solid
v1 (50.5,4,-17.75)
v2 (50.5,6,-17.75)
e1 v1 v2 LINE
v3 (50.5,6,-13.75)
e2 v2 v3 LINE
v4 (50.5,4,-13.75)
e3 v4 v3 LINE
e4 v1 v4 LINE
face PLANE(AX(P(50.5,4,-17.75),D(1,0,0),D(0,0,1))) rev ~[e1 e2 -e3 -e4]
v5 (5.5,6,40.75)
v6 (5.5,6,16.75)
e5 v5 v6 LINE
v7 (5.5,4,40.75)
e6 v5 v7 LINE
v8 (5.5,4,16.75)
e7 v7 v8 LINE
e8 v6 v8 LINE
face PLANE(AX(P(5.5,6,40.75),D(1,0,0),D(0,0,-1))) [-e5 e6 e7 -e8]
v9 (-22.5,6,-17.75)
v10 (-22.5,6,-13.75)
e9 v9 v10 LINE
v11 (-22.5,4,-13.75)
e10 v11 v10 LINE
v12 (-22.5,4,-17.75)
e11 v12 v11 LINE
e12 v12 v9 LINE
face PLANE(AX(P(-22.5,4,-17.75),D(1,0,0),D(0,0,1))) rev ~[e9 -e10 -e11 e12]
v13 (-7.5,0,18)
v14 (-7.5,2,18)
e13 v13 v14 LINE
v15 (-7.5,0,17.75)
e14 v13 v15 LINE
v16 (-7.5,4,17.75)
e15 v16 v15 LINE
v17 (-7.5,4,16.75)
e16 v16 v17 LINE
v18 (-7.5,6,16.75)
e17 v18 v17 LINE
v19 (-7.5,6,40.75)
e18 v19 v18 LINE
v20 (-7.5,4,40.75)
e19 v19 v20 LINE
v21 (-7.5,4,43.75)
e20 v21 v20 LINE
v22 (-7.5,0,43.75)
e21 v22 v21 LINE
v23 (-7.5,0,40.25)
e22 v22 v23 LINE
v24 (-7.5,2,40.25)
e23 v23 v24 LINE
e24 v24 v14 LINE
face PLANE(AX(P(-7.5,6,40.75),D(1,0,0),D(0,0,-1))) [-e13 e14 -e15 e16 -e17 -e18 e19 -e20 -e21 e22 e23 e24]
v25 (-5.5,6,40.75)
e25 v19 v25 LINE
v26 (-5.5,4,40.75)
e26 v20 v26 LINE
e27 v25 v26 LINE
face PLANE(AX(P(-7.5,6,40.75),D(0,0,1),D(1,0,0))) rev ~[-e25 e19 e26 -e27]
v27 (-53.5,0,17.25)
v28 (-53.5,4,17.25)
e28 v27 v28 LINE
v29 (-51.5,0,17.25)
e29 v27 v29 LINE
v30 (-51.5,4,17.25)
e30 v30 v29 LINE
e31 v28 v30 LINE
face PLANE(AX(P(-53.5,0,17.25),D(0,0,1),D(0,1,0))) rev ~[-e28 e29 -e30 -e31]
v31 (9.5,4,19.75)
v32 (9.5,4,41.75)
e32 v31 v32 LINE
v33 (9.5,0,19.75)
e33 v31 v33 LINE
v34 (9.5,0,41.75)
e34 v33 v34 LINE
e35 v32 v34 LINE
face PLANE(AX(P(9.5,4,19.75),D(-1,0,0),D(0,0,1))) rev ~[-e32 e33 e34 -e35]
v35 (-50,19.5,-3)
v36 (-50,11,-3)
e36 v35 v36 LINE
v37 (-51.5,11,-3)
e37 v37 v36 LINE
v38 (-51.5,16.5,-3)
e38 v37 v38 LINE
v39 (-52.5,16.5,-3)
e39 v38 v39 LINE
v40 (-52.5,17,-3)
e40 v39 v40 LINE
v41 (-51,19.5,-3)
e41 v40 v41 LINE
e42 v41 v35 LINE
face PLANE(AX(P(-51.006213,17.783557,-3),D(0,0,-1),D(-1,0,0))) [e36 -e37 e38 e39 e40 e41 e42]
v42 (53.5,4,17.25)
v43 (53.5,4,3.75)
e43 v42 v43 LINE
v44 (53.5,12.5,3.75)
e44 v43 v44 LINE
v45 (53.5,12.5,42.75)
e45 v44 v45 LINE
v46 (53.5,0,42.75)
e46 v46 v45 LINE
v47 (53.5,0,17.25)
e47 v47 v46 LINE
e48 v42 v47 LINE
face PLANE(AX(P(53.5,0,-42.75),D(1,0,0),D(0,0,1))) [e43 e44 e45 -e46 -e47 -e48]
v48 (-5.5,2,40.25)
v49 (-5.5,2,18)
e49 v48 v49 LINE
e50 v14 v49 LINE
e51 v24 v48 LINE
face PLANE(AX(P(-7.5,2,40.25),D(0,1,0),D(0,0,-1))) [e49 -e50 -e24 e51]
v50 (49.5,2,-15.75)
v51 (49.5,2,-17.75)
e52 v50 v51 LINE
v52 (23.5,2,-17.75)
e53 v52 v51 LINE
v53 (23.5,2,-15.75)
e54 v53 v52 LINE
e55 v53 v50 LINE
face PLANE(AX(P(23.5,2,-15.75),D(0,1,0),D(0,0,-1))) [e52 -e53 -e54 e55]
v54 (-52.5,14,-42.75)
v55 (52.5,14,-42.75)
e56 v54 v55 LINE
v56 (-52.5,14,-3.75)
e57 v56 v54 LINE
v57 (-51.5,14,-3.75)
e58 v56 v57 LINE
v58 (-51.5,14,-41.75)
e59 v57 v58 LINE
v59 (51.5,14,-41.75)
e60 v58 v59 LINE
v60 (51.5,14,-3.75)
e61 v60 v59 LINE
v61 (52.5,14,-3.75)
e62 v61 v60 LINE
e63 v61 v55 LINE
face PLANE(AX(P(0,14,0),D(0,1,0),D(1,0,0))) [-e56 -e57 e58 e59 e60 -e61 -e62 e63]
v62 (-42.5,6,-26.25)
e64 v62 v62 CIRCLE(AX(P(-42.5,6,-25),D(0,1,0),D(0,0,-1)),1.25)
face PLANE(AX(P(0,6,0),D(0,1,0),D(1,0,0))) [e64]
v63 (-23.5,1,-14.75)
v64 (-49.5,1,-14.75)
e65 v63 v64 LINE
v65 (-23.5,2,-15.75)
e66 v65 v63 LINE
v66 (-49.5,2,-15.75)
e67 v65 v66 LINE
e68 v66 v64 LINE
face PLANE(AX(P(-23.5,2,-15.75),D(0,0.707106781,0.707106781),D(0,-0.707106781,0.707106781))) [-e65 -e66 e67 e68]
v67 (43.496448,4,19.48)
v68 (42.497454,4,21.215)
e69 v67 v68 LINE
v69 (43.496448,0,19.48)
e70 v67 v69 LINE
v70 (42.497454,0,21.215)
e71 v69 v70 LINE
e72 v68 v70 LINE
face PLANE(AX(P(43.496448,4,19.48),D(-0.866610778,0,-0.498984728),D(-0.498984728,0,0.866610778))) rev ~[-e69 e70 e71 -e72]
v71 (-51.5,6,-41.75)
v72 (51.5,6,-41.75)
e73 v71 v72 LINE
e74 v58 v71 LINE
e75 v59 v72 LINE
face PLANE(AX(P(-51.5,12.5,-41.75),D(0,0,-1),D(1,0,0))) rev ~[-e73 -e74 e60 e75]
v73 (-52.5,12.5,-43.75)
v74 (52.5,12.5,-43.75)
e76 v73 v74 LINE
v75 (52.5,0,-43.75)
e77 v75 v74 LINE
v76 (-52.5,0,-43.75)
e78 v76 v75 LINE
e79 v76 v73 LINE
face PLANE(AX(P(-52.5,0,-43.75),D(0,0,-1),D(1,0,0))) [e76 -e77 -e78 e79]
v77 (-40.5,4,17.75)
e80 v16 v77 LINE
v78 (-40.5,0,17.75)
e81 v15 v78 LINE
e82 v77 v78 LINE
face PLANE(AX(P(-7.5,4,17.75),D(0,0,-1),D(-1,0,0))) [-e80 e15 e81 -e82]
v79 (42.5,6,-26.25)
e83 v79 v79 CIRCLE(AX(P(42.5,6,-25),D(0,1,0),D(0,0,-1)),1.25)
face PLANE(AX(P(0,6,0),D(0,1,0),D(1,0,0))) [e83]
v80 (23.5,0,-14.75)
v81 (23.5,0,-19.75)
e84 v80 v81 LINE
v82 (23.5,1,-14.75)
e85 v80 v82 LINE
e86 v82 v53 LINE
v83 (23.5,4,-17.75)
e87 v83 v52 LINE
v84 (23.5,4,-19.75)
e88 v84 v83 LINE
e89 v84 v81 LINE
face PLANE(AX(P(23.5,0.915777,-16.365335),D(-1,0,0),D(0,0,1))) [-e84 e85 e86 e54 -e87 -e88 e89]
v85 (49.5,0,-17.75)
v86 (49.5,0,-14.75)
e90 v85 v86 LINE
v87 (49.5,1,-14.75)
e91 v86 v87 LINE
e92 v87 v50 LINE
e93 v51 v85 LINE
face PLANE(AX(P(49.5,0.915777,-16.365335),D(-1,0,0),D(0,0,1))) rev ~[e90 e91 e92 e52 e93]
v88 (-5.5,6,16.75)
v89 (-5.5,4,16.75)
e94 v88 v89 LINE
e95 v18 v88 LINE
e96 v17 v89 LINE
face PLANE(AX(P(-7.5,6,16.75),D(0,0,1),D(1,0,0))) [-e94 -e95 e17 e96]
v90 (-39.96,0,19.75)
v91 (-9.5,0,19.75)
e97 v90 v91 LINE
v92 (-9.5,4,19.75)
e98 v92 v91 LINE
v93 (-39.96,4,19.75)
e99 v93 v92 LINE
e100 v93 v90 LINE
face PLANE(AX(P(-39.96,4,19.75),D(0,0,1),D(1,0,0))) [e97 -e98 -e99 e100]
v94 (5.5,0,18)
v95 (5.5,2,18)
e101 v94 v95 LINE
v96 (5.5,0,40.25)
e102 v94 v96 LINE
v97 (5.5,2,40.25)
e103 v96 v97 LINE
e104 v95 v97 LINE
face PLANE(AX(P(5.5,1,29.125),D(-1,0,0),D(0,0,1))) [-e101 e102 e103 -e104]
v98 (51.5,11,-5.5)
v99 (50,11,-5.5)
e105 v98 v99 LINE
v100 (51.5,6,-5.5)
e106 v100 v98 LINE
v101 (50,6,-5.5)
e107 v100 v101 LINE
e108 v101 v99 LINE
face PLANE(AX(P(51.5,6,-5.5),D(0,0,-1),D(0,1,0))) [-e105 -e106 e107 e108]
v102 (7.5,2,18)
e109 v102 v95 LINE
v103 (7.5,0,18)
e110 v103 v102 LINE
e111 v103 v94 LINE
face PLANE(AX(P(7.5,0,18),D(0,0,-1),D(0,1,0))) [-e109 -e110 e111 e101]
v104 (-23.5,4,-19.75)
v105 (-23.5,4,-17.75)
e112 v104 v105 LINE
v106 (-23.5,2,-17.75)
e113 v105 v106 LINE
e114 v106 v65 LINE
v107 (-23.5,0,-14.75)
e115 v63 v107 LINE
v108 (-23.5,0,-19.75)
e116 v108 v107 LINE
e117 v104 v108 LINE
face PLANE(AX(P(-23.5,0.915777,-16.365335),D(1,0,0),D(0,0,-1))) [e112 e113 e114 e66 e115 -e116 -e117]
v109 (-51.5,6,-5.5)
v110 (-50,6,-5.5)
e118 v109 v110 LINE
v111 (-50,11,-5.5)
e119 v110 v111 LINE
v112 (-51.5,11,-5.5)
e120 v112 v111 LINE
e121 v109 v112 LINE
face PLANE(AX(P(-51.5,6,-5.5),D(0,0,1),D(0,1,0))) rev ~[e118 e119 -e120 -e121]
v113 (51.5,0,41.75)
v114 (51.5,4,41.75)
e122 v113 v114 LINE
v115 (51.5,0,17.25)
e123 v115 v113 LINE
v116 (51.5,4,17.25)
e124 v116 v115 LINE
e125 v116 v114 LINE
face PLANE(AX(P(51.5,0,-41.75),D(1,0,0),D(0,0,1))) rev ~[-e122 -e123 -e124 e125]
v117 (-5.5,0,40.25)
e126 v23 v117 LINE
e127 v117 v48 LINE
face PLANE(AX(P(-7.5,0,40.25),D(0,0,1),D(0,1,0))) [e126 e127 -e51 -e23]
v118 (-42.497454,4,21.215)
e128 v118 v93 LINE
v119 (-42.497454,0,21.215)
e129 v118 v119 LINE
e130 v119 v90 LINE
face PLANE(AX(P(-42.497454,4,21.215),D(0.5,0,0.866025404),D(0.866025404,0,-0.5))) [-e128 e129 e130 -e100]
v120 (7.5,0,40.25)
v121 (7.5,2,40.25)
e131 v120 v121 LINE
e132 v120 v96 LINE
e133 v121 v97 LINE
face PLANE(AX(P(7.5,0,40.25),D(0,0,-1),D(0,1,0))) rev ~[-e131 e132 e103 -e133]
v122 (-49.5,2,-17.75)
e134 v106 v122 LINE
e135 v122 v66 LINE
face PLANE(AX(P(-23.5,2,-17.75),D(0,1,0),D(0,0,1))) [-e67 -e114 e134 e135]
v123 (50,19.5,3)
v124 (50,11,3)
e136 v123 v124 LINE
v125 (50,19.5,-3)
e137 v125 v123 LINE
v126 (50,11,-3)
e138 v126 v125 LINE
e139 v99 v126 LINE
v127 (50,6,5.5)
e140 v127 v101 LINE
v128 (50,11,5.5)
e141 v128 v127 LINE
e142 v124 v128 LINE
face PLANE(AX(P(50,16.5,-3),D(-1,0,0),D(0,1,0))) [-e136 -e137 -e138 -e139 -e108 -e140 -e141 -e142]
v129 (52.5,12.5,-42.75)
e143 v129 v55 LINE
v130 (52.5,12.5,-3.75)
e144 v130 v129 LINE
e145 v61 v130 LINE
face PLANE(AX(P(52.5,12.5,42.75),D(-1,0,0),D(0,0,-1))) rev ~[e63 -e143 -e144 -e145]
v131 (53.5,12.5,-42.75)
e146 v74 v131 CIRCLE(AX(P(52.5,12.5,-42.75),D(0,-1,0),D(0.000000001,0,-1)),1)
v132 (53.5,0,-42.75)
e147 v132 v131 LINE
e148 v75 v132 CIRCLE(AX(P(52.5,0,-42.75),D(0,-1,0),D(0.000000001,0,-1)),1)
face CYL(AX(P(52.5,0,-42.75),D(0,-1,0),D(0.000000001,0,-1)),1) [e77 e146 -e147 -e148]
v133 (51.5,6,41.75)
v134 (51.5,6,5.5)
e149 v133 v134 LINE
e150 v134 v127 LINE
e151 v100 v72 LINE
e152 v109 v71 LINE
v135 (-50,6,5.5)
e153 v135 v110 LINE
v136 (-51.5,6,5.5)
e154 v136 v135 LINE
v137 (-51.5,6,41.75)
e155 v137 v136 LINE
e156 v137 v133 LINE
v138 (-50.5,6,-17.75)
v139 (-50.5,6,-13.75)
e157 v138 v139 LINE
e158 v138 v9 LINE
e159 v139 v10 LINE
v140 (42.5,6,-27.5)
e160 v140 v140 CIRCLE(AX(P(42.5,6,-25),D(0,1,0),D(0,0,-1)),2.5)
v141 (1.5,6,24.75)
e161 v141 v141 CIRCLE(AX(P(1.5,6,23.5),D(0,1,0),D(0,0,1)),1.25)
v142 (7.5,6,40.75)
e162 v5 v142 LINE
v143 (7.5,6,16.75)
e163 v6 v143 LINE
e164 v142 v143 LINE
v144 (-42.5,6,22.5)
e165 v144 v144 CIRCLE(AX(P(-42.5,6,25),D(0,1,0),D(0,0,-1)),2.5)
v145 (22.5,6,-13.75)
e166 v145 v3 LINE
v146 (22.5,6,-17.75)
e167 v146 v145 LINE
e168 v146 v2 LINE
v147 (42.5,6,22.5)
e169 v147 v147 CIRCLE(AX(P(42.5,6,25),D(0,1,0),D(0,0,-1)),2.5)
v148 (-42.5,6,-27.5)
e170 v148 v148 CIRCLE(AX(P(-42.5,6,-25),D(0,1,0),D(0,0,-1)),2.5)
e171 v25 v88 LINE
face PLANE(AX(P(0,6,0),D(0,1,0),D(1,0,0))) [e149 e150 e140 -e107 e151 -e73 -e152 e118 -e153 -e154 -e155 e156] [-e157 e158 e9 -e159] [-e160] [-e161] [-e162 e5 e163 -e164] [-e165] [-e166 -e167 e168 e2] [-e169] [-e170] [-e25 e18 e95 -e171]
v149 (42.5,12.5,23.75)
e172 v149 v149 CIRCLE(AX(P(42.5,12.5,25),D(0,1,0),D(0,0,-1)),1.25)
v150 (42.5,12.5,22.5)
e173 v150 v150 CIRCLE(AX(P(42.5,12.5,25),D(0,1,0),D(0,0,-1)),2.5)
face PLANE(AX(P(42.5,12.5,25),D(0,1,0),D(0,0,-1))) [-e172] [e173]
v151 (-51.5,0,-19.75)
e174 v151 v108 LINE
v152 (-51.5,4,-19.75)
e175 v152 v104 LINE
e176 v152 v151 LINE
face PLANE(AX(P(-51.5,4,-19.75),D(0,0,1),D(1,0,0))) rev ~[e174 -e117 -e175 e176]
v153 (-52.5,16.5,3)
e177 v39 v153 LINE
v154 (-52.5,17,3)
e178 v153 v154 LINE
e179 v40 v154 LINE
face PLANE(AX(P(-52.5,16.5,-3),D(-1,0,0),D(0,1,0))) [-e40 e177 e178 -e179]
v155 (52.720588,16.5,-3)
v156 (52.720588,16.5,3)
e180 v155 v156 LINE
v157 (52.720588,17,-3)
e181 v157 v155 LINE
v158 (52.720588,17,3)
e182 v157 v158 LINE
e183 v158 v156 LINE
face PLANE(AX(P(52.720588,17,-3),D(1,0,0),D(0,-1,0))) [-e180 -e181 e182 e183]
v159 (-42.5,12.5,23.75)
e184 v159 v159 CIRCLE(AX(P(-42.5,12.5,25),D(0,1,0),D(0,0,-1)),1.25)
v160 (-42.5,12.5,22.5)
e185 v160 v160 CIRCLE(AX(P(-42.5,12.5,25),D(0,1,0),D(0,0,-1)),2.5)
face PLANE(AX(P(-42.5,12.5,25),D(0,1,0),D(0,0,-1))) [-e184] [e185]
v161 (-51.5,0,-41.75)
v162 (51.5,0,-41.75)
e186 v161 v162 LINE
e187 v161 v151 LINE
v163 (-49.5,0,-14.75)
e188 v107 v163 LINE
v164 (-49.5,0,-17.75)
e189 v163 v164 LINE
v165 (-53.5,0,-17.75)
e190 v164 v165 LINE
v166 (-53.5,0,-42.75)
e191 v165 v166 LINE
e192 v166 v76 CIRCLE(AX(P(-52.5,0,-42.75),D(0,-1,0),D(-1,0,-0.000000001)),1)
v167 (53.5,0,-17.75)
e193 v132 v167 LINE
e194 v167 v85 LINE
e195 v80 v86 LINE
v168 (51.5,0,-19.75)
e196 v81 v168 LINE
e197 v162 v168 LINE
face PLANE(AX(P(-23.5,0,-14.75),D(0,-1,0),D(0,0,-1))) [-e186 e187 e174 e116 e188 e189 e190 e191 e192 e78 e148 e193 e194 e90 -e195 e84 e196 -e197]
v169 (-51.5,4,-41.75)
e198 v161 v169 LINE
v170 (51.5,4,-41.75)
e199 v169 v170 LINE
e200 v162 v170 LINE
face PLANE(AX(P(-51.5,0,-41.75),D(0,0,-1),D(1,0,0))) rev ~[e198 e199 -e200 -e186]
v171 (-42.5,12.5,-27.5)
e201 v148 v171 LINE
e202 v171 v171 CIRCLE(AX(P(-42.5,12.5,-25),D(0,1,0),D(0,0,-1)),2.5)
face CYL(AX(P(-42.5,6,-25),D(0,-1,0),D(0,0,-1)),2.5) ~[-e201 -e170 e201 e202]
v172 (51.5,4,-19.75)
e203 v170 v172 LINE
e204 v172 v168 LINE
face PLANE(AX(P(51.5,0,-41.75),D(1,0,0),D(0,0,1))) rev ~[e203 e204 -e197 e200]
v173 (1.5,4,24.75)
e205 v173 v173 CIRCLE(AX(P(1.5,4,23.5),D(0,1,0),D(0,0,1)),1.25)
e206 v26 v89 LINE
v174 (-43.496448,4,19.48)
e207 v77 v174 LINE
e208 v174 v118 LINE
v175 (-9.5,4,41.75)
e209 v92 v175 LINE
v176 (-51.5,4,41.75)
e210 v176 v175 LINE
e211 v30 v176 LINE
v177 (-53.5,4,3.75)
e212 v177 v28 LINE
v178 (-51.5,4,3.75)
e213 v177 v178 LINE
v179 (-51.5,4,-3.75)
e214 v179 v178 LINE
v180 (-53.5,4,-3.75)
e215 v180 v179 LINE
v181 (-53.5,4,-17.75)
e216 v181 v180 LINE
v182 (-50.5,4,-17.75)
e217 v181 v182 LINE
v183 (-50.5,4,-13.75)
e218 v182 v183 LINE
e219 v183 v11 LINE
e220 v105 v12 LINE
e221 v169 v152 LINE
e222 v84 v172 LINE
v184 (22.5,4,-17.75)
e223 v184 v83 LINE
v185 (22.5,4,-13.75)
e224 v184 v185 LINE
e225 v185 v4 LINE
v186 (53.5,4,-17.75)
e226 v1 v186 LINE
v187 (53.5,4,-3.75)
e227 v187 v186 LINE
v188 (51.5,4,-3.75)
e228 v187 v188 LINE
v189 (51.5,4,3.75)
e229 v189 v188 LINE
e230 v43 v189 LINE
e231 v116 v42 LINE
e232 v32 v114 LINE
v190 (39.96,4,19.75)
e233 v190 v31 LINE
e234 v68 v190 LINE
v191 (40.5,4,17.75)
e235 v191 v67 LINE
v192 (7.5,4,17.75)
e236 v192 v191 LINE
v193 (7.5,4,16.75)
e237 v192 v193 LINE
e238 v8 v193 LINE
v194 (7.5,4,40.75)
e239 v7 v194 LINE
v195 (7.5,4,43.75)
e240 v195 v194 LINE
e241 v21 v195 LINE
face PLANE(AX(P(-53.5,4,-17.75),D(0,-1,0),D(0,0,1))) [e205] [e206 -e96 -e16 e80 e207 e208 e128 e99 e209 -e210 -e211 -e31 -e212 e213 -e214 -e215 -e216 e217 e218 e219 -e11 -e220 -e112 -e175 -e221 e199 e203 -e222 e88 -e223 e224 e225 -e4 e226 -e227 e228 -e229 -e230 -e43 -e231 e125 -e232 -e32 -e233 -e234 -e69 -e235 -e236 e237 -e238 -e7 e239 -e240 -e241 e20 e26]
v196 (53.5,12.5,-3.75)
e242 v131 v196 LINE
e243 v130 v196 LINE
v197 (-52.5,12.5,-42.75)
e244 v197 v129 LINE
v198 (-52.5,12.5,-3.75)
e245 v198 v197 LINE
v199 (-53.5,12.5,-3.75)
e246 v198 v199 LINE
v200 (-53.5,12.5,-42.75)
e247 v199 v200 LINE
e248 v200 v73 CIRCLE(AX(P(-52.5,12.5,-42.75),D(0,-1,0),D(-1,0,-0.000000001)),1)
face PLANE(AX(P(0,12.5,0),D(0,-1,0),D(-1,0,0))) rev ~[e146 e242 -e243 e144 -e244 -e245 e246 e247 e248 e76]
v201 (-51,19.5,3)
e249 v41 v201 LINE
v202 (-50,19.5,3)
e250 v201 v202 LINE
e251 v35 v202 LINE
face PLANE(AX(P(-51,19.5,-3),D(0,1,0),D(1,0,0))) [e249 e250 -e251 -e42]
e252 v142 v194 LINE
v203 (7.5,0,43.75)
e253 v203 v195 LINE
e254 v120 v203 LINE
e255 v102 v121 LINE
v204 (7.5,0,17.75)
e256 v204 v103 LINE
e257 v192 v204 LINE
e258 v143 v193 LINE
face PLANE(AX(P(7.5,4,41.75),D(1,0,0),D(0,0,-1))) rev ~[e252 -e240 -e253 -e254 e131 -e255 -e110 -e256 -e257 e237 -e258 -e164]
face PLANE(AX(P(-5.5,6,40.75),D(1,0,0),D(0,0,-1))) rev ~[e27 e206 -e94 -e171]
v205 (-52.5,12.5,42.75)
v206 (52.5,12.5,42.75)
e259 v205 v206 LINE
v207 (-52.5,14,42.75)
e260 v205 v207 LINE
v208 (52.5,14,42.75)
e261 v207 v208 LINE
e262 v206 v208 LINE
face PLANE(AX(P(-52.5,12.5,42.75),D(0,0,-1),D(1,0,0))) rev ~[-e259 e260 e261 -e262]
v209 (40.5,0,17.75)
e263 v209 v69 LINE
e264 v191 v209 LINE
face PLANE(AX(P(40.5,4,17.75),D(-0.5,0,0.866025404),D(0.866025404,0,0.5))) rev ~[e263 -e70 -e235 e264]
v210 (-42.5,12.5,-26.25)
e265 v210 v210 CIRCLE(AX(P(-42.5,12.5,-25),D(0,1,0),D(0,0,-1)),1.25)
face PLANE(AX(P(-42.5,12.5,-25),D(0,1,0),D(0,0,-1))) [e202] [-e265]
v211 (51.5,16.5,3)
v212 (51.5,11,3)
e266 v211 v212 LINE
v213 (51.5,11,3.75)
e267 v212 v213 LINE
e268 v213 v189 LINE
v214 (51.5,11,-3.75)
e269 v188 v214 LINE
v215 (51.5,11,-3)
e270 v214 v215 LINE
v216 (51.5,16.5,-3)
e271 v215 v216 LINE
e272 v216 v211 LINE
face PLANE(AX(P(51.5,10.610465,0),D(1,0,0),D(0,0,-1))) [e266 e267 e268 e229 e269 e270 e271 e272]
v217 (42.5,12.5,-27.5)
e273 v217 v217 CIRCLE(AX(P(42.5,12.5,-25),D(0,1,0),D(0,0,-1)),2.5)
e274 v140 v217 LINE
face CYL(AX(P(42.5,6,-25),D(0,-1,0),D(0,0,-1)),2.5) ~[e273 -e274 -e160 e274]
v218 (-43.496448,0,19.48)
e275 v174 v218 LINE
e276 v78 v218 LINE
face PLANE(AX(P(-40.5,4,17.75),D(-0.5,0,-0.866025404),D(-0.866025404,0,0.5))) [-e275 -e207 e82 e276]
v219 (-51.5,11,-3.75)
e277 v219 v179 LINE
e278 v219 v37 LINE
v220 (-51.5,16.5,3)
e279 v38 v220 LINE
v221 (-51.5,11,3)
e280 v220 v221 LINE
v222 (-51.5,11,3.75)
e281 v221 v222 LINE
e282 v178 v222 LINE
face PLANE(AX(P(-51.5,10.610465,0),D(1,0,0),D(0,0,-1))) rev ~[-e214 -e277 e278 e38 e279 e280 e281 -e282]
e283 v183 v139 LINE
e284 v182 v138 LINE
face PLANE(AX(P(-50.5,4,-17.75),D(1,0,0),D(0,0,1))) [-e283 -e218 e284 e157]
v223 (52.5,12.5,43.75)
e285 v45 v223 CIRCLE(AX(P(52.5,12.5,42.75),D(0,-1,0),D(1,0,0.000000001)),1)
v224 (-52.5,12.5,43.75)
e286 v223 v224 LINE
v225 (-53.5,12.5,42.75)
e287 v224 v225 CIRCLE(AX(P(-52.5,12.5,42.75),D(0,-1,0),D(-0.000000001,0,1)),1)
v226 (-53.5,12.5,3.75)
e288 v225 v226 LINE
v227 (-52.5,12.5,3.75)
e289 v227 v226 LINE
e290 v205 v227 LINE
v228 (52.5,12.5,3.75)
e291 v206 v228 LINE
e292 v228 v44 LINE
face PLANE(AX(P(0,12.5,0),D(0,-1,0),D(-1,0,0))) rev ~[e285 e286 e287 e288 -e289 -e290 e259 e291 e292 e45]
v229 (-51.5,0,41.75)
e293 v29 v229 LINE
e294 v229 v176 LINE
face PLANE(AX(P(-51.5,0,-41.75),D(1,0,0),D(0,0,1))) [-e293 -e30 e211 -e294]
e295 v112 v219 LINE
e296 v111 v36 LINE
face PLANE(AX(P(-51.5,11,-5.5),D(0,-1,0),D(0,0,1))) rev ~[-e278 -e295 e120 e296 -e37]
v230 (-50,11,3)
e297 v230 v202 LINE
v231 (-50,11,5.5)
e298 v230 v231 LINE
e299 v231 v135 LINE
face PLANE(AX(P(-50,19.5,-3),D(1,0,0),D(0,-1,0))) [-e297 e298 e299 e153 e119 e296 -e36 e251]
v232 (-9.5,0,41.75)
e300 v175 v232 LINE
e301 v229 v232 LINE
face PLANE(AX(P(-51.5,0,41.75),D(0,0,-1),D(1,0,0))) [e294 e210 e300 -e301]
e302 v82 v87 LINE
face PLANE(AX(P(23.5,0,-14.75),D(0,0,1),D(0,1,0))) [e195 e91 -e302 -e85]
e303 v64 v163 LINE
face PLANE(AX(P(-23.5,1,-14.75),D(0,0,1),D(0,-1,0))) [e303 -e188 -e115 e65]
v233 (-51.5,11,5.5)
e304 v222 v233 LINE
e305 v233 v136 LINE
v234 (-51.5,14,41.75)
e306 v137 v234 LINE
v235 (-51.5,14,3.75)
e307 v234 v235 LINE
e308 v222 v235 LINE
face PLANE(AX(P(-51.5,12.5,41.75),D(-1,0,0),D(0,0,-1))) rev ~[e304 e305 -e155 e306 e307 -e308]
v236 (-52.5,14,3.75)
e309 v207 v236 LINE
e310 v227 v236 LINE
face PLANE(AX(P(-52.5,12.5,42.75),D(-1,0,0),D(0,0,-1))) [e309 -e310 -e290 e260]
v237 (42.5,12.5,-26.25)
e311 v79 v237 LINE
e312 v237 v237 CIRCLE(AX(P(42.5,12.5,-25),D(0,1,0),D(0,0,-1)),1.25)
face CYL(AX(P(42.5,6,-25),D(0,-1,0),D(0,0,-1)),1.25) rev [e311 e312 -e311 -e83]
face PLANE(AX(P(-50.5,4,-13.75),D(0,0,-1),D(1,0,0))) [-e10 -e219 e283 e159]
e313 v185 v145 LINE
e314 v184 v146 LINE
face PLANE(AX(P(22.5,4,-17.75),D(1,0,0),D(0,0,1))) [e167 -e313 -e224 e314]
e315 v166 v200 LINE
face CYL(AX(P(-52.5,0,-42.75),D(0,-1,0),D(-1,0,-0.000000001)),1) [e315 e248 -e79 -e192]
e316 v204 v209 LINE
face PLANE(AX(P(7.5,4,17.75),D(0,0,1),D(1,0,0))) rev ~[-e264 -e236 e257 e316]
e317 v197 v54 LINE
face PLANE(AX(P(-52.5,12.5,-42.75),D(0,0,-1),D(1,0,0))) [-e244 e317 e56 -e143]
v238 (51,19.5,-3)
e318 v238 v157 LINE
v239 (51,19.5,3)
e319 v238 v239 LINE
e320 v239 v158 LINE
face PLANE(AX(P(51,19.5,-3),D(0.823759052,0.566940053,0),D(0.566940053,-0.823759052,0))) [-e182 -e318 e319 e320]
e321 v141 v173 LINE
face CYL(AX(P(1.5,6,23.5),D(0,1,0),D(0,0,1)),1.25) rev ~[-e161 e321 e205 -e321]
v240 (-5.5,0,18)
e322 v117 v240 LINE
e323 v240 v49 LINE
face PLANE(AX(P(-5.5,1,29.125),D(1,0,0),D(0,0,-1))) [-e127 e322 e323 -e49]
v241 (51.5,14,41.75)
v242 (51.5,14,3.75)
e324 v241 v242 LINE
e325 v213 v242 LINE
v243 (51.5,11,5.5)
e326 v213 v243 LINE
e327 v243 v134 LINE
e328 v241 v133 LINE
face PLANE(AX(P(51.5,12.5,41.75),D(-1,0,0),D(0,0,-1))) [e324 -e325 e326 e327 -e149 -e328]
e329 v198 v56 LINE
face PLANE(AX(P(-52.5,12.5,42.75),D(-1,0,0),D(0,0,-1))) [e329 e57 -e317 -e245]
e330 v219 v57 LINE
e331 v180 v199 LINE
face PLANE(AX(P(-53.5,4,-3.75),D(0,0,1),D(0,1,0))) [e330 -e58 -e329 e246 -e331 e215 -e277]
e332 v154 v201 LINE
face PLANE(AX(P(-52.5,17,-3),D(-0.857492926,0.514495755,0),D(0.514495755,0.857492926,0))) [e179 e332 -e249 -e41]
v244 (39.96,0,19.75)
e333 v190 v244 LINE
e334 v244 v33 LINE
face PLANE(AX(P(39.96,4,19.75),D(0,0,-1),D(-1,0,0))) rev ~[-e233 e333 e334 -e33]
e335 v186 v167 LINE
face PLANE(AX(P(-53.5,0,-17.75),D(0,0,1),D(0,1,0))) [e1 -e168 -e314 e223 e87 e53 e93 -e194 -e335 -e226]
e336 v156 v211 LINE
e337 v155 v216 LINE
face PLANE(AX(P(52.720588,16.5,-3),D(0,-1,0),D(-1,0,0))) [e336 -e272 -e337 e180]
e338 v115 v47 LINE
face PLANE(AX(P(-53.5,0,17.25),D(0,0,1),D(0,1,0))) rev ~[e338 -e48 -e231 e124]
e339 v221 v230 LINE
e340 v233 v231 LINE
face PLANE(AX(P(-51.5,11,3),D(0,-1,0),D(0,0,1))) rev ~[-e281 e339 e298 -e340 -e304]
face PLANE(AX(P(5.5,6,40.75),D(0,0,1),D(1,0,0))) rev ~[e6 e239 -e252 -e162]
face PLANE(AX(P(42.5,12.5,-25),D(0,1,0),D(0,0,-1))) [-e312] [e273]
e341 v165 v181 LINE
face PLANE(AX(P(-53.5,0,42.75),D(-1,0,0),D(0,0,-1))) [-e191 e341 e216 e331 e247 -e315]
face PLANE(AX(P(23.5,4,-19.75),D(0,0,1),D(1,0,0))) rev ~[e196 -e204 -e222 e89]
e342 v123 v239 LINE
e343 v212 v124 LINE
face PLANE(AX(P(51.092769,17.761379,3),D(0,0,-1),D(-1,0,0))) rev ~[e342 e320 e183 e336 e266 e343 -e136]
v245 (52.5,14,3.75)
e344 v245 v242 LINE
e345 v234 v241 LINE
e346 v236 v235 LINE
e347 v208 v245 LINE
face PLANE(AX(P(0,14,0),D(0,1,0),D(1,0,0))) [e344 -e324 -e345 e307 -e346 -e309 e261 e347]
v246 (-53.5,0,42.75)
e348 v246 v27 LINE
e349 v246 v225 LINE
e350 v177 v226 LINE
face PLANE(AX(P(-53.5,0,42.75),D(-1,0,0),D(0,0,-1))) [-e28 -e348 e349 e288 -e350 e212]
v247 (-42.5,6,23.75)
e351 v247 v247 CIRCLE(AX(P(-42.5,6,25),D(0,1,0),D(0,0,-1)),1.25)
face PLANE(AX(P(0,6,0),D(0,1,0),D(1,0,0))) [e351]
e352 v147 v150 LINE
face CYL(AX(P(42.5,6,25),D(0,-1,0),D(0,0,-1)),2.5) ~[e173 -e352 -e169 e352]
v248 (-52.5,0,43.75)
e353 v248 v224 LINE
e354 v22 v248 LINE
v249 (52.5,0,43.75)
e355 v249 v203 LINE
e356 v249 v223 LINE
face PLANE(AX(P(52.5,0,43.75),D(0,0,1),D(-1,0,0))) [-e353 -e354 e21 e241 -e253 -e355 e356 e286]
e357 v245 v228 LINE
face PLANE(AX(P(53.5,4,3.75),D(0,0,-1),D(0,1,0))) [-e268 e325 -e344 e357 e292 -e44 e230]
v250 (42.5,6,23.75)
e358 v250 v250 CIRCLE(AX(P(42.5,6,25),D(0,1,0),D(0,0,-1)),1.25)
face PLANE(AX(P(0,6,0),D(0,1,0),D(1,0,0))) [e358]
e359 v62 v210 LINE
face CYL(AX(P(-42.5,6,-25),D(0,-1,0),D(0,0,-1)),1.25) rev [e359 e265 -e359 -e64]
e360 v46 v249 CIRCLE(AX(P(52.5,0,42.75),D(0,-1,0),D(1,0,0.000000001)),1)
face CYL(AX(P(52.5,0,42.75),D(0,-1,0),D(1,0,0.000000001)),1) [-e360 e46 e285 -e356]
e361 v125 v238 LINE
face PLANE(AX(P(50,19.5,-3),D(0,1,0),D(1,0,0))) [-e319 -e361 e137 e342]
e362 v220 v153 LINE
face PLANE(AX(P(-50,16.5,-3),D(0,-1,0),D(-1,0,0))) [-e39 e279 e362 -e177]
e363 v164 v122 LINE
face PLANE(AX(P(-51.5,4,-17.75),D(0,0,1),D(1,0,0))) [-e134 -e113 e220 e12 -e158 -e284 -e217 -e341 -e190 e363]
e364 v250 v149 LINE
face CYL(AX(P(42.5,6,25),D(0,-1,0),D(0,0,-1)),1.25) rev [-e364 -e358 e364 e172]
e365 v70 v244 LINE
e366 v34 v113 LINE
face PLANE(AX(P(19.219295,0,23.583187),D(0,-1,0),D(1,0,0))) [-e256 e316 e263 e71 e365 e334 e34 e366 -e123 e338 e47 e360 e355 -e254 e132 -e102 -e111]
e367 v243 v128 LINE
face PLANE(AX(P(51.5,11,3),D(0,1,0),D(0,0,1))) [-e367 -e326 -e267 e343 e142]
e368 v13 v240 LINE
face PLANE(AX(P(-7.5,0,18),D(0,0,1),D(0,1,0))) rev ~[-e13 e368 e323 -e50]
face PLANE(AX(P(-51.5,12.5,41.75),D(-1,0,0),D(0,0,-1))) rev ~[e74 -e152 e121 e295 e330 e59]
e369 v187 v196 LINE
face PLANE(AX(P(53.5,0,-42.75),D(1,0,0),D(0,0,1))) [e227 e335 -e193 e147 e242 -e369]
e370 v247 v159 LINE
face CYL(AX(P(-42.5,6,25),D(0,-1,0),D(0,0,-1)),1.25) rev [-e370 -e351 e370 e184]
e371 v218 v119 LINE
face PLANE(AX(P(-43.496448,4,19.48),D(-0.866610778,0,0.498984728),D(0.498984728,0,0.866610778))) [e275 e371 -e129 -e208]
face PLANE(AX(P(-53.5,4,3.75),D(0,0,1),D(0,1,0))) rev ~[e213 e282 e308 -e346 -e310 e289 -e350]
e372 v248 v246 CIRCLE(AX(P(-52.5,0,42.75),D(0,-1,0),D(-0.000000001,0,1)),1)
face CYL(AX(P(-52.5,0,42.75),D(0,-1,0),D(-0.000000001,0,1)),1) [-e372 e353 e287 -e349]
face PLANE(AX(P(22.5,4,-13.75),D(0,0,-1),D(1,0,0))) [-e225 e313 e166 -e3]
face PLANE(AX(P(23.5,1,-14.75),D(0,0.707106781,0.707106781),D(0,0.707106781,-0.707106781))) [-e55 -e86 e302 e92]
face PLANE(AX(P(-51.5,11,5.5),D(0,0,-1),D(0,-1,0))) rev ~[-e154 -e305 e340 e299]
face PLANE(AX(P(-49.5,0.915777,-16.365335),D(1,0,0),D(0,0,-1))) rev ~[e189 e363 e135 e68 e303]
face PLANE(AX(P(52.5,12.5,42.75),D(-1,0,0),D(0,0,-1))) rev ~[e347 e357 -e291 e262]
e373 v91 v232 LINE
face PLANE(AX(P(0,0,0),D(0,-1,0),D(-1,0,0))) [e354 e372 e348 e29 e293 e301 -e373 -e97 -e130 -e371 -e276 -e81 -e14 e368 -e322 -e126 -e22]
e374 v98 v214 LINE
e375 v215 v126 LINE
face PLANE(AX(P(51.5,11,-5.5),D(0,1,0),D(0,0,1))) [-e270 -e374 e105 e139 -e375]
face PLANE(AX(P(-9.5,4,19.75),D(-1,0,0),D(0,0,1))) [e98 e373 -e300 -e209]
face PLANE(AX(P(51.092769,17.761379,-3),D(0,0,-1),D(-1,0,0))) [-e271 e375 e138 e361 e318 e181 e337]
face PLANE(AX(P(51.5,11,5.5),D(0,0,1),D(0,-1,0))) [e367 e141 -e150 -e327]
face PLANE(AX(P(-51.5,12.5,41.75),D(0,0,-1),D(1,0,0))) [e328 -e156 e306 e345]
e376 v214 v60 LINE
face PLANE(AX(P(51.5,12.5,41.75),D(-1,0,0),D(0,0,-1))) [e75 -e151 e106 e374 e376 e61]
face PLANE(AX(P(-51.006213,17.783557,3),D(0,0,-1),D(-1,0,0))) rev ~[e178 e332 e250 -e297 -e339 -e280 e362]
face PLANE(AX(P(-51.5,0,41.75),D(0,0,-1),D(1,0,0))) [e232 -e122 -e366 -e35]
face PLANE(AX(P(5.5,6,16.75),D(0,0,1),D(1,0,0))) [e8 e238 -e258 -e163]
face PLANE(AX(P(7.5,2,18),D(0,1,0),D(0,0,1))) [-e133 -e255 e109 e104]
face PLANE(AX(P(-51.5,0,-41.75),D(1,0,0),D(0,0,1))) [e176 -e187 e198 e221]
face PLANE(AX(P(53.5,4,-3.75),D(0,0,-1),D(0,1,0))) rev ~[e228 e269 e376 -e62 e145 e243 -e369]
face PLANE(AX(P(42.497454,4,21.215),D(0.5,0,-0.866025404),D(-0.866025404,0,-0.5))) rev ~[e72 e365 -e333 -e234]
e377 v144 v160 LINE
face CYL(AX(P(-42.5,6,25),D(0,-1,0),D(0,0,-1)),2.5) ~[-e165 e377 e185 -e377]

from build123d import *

# Parameters (mm, degrees)
BOSS_EXTRUDE1_DEPTH  = 12.5
SKETCH2_W            = 103
SKETCH2_H            = 83.5
CUT_EXTRUDE1_DEPTH   = 4
SKETCH3_W            = 103
SKETCH3_H            = 83.5
CUT_EXTRUDE2_DEPTH   = 6.5
SKETCH4_W            = 105
SKETCH4_H            = 85.5
SKETCH4_W_2          = 103
SKETCH4_H_2          = 83.5
BOSS_EXTRUDE2_DEPTH  = 1.5
SKETCH7_W            = 35
SKETCH7_H            = 4
CUT_EXTRUDE3_DEPTH   = 117.443387532
SKETCH8_W            = 7.5
SKETCH8_H            = 10
CUT_EXTRUDE4_DEPTH   = 2
SKETCH9_W            = 7.5
SKETCH9_H            = 10
CUT_EXTRUDE5_DEPTH   = 2
BOSS_EXTRUDE3_DEPTH  = 1.5
BOSS_EXTRUDE4_DEPTH  = 1.5
BOSS_EXTRUDE5_DEPTH  = 6
BOSS_EXTRUDE6_DEPTH  = 6
SKETCH14_W           = 28
SKETCH14_H           = 4
CUT_EXTRUDE6_DEPTH   = 2
SKETCH15_W           = 15
SKETCH15_H           = 3.5
CUT_EXTRUDE7_DEPTH   = 4
SKETCH16_R           = 1.25
SKETCH16_W           = 2
SKETCH16_H           = 24
CUT_EXTRUDE8_DEPTH   = 2
SKETCH17_R           = 2.5
SKETCH17_R_2         = 1.25
BOSS_EXTRUDE7_DEPTH  = 6.5
SKETCH18_W           = 28
SKETCH18_H           = 2
BOSS_EXTRUDE8_DEPTH  = 4
BOSS_EXTRUDE9_DEPTH  = 26
BOSS_EXTRUDE10_DEPTH = 26
BOSS_EXTRUDE11_DEPTH = 4
SKETCH22_W           = 22.25
SKETCH22_H           = 2
BOSS_EXTRUDE12_DEPTH = 2
SKETCH23_W           = 22.25
SKETCH23_H           = 2
BOSS_EXTRUDE13_DEPTH = 2


with BuildPart() as part:
    # Sketch1 → Boss-Extrude1 (new body)
    with BuildSketch(Plane(origin=(0, 0, 0), x_dir=(1, 0, 0), z_dir=(0, 1, 0))):
        with BuildLine():
            Line((52.5, -43.75), (-52.5, -43.75))
            ThreePointArc((-52.5, -43.75), (-53.207106781, -43.457106781), (-53.5, -42.75))
            Line((-53.5, -42.75), (-53.5, 42.75))
            ThreePointArc((-53.5, 42.75), (-53.207106781, 43.457106781), (-52.5, 43.75))
            Line((-52.5, 43.75), (52.5, 43.75))
            ThreePointArc((52.5, 43.75), (53.207106781, 43.457106781), (53.5, 42.75))
            Line((53.5, 42.75), (53.5, -42.75))
            ThreePointArc((53.5, -42.75), (53.207106781, -43.457106781), (52.5, -43.75))
        make_face()
    extrude(amount=BOSS_EXTRUDE1_DEPTH)

    # Sketch2 → Cut-Extrude1 (cut)
    with BuildSketch(Plane.XZ):
        Rectangle(SKETCH2_W, SKETCH2_H)
    extrude(amount=-CUT_EXTRUDE1_DEPTH, mode=Mode.SUBTRACT)

    # Sketch3 → Cut-Extrude2 (cut)
    with BuildSketch(Plane(origin=(0, 12.5, 0), x_dir=(1, 0, 0), z_dir=(0, 1, 0))):
        Rectangle(SKETCH3_W, SKETCH3_H)
    extrude(amount=-CUT_EXTRUDE2_DEPTH, mode=Mode.SUBTRACT)

    # Sketch4 → Boss-Extrude2 (add)
    with BuildSketch(Plane(origin=(0, 12.5, 0), x_dir=(1, 0, 0), z_dir=(0, 1, 0))):
        Rectangle(SKETCH4_W, SKETCH4_H)
        Rectangle(SKETCH4_W_2, SKETCH4_H_2, mode=Mode.SUBTRACT)
    extrude(amount=BOSS_EXTRUDE2_DEPTH)

    # Sketch7 → Cut-Extrude3 (cut, through all)
    with BuildSketch(Plane.ZY.offset(53.5)):
        with Locations((-0.25, 2)):
            Rectangle(SKETCH7_W, SKETCH7_H)
    extrude(amount=-CUT_EXTRUDE3_DEPTH, mode=Mode.SUBTRACT)

    # Sketch8 → Cut-Extrude4 (cut)
    with BuildSketch(Plane.ZY.offset(53.5)):
        with Locations((0, 9)):
            Rectangle(SKETCH8_W, SKETCH8_H)
    extrude(amount=-CUT_EXTRUDE4_DEPTH, mode=Mode.SUBTRACT)

    # Sketch9 → Cut-Extrude5 (cut)
    with BuildSketch(Plane(origin=(53.5, 0, 0), x_dir=(0, 0, -1), z_dir=(1, 0, 0))):
        with Locations((0, 9)):
            Rectangle(SKETCH9_W, SKETCH9_H)
    extrude(amount=-CUT_EXTRUDE5_DEPTH, mode=Mode.SUBTRACT)

    # Sketch10 → Boss-Extrude3 (add)
    with BuildSketch(Plane.ZY.offset(-51.5)):
        Polygon((5.5, 6), (-5.5, 6), (-5.5, 11), (-3, 11), (-3, 16.5), (3, 16.5), (3, 11), (5.5, 11), align=None)
    extrude(amount=BOSS_EXTRUDE3_DEPTH)

    # Sketch11 → Boss-Extrude4 (add)
    with BuildSketch(Plane(origin=(-51.5, 0, 0), x_dir=(0, 0, -1), z_dir=(1, 0, 0))):
        Polygon((-5.5, 11), (-5.5, 6), (5.5, 6), (5.5, 11), (3, 11), (3, 16.5), (-3, 16.5), (-3, 11), align=None)
    extrude(amount=BOSS_EXTRUDE4_DEPTH)

    # Sketch12 → Boss-Extrude5 (add)
    with BuildSketch(Plane(origin=(0, 0, -3), x_dir=(-1, 0, 0), z_dir=(0, 0, -1))):
        Polygon((-52.720588235, 16.5), (-50, 16.5), (-50, 19.5), (-51, 19.5), (-52.720588235, 17), align=None)
    extrude(amount=-BOSS_EXTRUDE5_DEPTH)

    # Sketch13 → Boss-Extrude6 (add)
    with BuildSketch(Plane(origin=(0, 0, -3), x_dir=(-1, 0, 0), z_dir=(0, 0, -1))):
        Polygon((50, 16.5), (52.5, 16.5), (52.5, 17), (51, 19.5), (50, 19.5), align=None)
    extrude(amount=-BOSS_EXTRUDE6_DEPTH)

    # Sketch14 → Cut-Extrude6 (cut)
    with BuildSketch(Plane.XZ.offset(-4)):
        with Locations((36.5, -15.75)):
            Rectangle(SKETCH14_W, SKETCH14_H)
        with Locations((-36.5, -15.75)):
            Rectangle(SKETCH14_W, SKETCH14_H)
    extrude(amount=-CUT_EXTRUDE6_DEPTH, mode=Mode.SUBTRACT)

    # Sketch15 → Cut-Extrude7 (cut)
    with BuildSketch(Plane.XZ):
        with Locations((0, 42)):
            Rectangle(SKETCH15_W, SKETCH15_H)
    extrude(amount=-CUT_EXTRUDE7_DEPTH, mode=Mode.SUBTRACT)

    # Sketch16 → Cut-Extrude8 (cut)
    with BuildSketch(Plane(origin=(0, 6, 0), x_dir=(1, 0, 0), z_dir=(0, 1, 0))):
        with Locations(Location((1.5, -23.5, 0), (0, 0, 270))):
            Circle(SKETCH16_R)
        with Locations((6.5, -28.75)):
            Rectangle(SKETCH16_W, SKETCH16_H)
        with Locations((-6.5, -28.75)):
            Rectangle(SKETCH16_W, SKETCH16_H)
    extrude(amount=-CUT_EXTRUDE8_DEPTH, mode=Mode.SUBTRACT)

    # Sketch17 → Boss-Extrude7 (add)
    # profile 1 of 4: a face of its own
    with BuildSketch(Plane(origin=(0, 6, 0), x_dir=(1, 0, 0), z_dir=(0, 1, 0))):
        with Locations(Location((42.5, 25, 0), (0, 0, 90))):
            Circle(SKETCH17_R)
        with Locations(Location((42.5, 25, 0), (0, 0, 90))):
            Circle(SKETCH17_R_2, mode=Mode.SUBTRACT)
    # profile 2 of 4: a face of its own
    with BuildSketch(Plane(origin=(0, 6, 0), x_dir=(1, 0, 0), z_dir=(0, 1, 0))):
        with Locations(Location((42.5, -25, 0), (0, 0, 90))):
            Circle(SKETCH17_R)
        with Locations(Location((42.5, -25, 0), (0, 0, 90))):
            Circle(SKETCH17_R_2, mode=Mode.SUBTRACT)
    # profile 3 of 4: a face of its own
    with BuildSketch(Plane(origin=(0, 6, 0), x_dir=(1, 0, 0), z_dir=(0, 1, 0))):
        with Locations(Location((-42.5, 25, 0), (0, 0, 90))):
            Circle(SKETCH17_R)
        with Locations(Location((-42.5, 25, 0), (0, 0, 90))):
            Circle(SKETCH17_R_2, mode=Mode.SUBTRACT)
    # profile 4 of 4: a face of its own
    with BuildSketch(Plane(origin=(0, 6, 0), x_dir=(1, 0, 0), z_dir=(0, 1, 0))):
        with Locations(Location((-42.5, -25, 0), (0, 0, 90))):
            Circle(SKETCH17_R)
        with Locations(Location((-42.5, -25, 0), (0, 0, 90))):
            Circle(SKETCH17_R_2, mode=Mode.SUBTRACT)
    extrude(amount=BOSS_EXTRUDE7_DEPTH)

    # Sketch18 → Boss-Extrude8 (add)
    with BuildSketch(Plane.XZ.offset(-4)):
        with Locations((-37.5, -18.75)):
            Rectangle(SKETCH18_W, SKETCH18_H)
        with Locations((37.5, -18.75)):
            Rectangle(SKETCH18_W, SKETCH18_H)
    extrude(amount=BOSS_EXTRUDE8_DEPTH)

    # Sketch19 → Boss-Extrude9 (add)
    with BuildSketch(Plane.ZY.offset(-23.5)):
        Polygon((-17.75, 0), (-14.75, 0), (-14.75, 1), (-15.75, 2), (-17.75, 2), align=None)
    extrude(amount=-BOSS_EXTRUDE9_DEPTH)

    # Sketch20 → Boss-Extrude10 (add)
    with BuildSketch(Plane(origin=(-23.5, 0, 0), x_dir=(0, 0, -1), z_dir=(1, 0, 0))):
        Polygon((14.75, 0), (17.75, 0), (17.75, 2), (15.75, 2), (14.75, 1), align=None)
    extrude(amount=-BOSS_EXTRUDE10_DEPTH)

    # Sketch21 → Boss-Extrude11 (add)
    with BuildSketch(Plane.XZ.offset(-4)):
        Polygon((7.5, 41.75), (7.5, 17.75), (40.5, 17.75), (43.496447897, 19.48), (42.497454433, 21.215), (39.96, 19.75), (9.5, 19.75), (9.5, 41.75), align=None)
        Polygon((-7.5, 41.75), (-7.5, 17.75), (-40.5, 17.75), (-43.496447897, 19.48), (-42.497454433, 21.215), (-39.96, 19.75), (-9.5, 19.75), (-9.5, 41.75), align=None)
    extrude(amount=BOSS_EXTRUDE11_DEPTH)

    # Sketch22 → Boss-Extrude12 (add)
    with BuildSketch(Plane.ZY.offset(-7.5)):
        with Locations((29.125, 1)):
            Rectangle(SKETCH22_W, SKETCH22_H)
    extrude(amount=BOSS_EXTRUDE12_DEPTH)

    # Sketch23 → Boss-Extrude13 (add)
    with BuildSketch(Plane(origin=(-7.5, 0, 0), x_dir=(0, 0, -1), z_dir=(1, 0, 0))):
        with Locations((-29.125, 1)):
            Rectangle(SKETCH23_W, SKETCH23_H)
    extrude(amount=BOSS_EXTRUDE13_DEPTH)


solid = part.part
